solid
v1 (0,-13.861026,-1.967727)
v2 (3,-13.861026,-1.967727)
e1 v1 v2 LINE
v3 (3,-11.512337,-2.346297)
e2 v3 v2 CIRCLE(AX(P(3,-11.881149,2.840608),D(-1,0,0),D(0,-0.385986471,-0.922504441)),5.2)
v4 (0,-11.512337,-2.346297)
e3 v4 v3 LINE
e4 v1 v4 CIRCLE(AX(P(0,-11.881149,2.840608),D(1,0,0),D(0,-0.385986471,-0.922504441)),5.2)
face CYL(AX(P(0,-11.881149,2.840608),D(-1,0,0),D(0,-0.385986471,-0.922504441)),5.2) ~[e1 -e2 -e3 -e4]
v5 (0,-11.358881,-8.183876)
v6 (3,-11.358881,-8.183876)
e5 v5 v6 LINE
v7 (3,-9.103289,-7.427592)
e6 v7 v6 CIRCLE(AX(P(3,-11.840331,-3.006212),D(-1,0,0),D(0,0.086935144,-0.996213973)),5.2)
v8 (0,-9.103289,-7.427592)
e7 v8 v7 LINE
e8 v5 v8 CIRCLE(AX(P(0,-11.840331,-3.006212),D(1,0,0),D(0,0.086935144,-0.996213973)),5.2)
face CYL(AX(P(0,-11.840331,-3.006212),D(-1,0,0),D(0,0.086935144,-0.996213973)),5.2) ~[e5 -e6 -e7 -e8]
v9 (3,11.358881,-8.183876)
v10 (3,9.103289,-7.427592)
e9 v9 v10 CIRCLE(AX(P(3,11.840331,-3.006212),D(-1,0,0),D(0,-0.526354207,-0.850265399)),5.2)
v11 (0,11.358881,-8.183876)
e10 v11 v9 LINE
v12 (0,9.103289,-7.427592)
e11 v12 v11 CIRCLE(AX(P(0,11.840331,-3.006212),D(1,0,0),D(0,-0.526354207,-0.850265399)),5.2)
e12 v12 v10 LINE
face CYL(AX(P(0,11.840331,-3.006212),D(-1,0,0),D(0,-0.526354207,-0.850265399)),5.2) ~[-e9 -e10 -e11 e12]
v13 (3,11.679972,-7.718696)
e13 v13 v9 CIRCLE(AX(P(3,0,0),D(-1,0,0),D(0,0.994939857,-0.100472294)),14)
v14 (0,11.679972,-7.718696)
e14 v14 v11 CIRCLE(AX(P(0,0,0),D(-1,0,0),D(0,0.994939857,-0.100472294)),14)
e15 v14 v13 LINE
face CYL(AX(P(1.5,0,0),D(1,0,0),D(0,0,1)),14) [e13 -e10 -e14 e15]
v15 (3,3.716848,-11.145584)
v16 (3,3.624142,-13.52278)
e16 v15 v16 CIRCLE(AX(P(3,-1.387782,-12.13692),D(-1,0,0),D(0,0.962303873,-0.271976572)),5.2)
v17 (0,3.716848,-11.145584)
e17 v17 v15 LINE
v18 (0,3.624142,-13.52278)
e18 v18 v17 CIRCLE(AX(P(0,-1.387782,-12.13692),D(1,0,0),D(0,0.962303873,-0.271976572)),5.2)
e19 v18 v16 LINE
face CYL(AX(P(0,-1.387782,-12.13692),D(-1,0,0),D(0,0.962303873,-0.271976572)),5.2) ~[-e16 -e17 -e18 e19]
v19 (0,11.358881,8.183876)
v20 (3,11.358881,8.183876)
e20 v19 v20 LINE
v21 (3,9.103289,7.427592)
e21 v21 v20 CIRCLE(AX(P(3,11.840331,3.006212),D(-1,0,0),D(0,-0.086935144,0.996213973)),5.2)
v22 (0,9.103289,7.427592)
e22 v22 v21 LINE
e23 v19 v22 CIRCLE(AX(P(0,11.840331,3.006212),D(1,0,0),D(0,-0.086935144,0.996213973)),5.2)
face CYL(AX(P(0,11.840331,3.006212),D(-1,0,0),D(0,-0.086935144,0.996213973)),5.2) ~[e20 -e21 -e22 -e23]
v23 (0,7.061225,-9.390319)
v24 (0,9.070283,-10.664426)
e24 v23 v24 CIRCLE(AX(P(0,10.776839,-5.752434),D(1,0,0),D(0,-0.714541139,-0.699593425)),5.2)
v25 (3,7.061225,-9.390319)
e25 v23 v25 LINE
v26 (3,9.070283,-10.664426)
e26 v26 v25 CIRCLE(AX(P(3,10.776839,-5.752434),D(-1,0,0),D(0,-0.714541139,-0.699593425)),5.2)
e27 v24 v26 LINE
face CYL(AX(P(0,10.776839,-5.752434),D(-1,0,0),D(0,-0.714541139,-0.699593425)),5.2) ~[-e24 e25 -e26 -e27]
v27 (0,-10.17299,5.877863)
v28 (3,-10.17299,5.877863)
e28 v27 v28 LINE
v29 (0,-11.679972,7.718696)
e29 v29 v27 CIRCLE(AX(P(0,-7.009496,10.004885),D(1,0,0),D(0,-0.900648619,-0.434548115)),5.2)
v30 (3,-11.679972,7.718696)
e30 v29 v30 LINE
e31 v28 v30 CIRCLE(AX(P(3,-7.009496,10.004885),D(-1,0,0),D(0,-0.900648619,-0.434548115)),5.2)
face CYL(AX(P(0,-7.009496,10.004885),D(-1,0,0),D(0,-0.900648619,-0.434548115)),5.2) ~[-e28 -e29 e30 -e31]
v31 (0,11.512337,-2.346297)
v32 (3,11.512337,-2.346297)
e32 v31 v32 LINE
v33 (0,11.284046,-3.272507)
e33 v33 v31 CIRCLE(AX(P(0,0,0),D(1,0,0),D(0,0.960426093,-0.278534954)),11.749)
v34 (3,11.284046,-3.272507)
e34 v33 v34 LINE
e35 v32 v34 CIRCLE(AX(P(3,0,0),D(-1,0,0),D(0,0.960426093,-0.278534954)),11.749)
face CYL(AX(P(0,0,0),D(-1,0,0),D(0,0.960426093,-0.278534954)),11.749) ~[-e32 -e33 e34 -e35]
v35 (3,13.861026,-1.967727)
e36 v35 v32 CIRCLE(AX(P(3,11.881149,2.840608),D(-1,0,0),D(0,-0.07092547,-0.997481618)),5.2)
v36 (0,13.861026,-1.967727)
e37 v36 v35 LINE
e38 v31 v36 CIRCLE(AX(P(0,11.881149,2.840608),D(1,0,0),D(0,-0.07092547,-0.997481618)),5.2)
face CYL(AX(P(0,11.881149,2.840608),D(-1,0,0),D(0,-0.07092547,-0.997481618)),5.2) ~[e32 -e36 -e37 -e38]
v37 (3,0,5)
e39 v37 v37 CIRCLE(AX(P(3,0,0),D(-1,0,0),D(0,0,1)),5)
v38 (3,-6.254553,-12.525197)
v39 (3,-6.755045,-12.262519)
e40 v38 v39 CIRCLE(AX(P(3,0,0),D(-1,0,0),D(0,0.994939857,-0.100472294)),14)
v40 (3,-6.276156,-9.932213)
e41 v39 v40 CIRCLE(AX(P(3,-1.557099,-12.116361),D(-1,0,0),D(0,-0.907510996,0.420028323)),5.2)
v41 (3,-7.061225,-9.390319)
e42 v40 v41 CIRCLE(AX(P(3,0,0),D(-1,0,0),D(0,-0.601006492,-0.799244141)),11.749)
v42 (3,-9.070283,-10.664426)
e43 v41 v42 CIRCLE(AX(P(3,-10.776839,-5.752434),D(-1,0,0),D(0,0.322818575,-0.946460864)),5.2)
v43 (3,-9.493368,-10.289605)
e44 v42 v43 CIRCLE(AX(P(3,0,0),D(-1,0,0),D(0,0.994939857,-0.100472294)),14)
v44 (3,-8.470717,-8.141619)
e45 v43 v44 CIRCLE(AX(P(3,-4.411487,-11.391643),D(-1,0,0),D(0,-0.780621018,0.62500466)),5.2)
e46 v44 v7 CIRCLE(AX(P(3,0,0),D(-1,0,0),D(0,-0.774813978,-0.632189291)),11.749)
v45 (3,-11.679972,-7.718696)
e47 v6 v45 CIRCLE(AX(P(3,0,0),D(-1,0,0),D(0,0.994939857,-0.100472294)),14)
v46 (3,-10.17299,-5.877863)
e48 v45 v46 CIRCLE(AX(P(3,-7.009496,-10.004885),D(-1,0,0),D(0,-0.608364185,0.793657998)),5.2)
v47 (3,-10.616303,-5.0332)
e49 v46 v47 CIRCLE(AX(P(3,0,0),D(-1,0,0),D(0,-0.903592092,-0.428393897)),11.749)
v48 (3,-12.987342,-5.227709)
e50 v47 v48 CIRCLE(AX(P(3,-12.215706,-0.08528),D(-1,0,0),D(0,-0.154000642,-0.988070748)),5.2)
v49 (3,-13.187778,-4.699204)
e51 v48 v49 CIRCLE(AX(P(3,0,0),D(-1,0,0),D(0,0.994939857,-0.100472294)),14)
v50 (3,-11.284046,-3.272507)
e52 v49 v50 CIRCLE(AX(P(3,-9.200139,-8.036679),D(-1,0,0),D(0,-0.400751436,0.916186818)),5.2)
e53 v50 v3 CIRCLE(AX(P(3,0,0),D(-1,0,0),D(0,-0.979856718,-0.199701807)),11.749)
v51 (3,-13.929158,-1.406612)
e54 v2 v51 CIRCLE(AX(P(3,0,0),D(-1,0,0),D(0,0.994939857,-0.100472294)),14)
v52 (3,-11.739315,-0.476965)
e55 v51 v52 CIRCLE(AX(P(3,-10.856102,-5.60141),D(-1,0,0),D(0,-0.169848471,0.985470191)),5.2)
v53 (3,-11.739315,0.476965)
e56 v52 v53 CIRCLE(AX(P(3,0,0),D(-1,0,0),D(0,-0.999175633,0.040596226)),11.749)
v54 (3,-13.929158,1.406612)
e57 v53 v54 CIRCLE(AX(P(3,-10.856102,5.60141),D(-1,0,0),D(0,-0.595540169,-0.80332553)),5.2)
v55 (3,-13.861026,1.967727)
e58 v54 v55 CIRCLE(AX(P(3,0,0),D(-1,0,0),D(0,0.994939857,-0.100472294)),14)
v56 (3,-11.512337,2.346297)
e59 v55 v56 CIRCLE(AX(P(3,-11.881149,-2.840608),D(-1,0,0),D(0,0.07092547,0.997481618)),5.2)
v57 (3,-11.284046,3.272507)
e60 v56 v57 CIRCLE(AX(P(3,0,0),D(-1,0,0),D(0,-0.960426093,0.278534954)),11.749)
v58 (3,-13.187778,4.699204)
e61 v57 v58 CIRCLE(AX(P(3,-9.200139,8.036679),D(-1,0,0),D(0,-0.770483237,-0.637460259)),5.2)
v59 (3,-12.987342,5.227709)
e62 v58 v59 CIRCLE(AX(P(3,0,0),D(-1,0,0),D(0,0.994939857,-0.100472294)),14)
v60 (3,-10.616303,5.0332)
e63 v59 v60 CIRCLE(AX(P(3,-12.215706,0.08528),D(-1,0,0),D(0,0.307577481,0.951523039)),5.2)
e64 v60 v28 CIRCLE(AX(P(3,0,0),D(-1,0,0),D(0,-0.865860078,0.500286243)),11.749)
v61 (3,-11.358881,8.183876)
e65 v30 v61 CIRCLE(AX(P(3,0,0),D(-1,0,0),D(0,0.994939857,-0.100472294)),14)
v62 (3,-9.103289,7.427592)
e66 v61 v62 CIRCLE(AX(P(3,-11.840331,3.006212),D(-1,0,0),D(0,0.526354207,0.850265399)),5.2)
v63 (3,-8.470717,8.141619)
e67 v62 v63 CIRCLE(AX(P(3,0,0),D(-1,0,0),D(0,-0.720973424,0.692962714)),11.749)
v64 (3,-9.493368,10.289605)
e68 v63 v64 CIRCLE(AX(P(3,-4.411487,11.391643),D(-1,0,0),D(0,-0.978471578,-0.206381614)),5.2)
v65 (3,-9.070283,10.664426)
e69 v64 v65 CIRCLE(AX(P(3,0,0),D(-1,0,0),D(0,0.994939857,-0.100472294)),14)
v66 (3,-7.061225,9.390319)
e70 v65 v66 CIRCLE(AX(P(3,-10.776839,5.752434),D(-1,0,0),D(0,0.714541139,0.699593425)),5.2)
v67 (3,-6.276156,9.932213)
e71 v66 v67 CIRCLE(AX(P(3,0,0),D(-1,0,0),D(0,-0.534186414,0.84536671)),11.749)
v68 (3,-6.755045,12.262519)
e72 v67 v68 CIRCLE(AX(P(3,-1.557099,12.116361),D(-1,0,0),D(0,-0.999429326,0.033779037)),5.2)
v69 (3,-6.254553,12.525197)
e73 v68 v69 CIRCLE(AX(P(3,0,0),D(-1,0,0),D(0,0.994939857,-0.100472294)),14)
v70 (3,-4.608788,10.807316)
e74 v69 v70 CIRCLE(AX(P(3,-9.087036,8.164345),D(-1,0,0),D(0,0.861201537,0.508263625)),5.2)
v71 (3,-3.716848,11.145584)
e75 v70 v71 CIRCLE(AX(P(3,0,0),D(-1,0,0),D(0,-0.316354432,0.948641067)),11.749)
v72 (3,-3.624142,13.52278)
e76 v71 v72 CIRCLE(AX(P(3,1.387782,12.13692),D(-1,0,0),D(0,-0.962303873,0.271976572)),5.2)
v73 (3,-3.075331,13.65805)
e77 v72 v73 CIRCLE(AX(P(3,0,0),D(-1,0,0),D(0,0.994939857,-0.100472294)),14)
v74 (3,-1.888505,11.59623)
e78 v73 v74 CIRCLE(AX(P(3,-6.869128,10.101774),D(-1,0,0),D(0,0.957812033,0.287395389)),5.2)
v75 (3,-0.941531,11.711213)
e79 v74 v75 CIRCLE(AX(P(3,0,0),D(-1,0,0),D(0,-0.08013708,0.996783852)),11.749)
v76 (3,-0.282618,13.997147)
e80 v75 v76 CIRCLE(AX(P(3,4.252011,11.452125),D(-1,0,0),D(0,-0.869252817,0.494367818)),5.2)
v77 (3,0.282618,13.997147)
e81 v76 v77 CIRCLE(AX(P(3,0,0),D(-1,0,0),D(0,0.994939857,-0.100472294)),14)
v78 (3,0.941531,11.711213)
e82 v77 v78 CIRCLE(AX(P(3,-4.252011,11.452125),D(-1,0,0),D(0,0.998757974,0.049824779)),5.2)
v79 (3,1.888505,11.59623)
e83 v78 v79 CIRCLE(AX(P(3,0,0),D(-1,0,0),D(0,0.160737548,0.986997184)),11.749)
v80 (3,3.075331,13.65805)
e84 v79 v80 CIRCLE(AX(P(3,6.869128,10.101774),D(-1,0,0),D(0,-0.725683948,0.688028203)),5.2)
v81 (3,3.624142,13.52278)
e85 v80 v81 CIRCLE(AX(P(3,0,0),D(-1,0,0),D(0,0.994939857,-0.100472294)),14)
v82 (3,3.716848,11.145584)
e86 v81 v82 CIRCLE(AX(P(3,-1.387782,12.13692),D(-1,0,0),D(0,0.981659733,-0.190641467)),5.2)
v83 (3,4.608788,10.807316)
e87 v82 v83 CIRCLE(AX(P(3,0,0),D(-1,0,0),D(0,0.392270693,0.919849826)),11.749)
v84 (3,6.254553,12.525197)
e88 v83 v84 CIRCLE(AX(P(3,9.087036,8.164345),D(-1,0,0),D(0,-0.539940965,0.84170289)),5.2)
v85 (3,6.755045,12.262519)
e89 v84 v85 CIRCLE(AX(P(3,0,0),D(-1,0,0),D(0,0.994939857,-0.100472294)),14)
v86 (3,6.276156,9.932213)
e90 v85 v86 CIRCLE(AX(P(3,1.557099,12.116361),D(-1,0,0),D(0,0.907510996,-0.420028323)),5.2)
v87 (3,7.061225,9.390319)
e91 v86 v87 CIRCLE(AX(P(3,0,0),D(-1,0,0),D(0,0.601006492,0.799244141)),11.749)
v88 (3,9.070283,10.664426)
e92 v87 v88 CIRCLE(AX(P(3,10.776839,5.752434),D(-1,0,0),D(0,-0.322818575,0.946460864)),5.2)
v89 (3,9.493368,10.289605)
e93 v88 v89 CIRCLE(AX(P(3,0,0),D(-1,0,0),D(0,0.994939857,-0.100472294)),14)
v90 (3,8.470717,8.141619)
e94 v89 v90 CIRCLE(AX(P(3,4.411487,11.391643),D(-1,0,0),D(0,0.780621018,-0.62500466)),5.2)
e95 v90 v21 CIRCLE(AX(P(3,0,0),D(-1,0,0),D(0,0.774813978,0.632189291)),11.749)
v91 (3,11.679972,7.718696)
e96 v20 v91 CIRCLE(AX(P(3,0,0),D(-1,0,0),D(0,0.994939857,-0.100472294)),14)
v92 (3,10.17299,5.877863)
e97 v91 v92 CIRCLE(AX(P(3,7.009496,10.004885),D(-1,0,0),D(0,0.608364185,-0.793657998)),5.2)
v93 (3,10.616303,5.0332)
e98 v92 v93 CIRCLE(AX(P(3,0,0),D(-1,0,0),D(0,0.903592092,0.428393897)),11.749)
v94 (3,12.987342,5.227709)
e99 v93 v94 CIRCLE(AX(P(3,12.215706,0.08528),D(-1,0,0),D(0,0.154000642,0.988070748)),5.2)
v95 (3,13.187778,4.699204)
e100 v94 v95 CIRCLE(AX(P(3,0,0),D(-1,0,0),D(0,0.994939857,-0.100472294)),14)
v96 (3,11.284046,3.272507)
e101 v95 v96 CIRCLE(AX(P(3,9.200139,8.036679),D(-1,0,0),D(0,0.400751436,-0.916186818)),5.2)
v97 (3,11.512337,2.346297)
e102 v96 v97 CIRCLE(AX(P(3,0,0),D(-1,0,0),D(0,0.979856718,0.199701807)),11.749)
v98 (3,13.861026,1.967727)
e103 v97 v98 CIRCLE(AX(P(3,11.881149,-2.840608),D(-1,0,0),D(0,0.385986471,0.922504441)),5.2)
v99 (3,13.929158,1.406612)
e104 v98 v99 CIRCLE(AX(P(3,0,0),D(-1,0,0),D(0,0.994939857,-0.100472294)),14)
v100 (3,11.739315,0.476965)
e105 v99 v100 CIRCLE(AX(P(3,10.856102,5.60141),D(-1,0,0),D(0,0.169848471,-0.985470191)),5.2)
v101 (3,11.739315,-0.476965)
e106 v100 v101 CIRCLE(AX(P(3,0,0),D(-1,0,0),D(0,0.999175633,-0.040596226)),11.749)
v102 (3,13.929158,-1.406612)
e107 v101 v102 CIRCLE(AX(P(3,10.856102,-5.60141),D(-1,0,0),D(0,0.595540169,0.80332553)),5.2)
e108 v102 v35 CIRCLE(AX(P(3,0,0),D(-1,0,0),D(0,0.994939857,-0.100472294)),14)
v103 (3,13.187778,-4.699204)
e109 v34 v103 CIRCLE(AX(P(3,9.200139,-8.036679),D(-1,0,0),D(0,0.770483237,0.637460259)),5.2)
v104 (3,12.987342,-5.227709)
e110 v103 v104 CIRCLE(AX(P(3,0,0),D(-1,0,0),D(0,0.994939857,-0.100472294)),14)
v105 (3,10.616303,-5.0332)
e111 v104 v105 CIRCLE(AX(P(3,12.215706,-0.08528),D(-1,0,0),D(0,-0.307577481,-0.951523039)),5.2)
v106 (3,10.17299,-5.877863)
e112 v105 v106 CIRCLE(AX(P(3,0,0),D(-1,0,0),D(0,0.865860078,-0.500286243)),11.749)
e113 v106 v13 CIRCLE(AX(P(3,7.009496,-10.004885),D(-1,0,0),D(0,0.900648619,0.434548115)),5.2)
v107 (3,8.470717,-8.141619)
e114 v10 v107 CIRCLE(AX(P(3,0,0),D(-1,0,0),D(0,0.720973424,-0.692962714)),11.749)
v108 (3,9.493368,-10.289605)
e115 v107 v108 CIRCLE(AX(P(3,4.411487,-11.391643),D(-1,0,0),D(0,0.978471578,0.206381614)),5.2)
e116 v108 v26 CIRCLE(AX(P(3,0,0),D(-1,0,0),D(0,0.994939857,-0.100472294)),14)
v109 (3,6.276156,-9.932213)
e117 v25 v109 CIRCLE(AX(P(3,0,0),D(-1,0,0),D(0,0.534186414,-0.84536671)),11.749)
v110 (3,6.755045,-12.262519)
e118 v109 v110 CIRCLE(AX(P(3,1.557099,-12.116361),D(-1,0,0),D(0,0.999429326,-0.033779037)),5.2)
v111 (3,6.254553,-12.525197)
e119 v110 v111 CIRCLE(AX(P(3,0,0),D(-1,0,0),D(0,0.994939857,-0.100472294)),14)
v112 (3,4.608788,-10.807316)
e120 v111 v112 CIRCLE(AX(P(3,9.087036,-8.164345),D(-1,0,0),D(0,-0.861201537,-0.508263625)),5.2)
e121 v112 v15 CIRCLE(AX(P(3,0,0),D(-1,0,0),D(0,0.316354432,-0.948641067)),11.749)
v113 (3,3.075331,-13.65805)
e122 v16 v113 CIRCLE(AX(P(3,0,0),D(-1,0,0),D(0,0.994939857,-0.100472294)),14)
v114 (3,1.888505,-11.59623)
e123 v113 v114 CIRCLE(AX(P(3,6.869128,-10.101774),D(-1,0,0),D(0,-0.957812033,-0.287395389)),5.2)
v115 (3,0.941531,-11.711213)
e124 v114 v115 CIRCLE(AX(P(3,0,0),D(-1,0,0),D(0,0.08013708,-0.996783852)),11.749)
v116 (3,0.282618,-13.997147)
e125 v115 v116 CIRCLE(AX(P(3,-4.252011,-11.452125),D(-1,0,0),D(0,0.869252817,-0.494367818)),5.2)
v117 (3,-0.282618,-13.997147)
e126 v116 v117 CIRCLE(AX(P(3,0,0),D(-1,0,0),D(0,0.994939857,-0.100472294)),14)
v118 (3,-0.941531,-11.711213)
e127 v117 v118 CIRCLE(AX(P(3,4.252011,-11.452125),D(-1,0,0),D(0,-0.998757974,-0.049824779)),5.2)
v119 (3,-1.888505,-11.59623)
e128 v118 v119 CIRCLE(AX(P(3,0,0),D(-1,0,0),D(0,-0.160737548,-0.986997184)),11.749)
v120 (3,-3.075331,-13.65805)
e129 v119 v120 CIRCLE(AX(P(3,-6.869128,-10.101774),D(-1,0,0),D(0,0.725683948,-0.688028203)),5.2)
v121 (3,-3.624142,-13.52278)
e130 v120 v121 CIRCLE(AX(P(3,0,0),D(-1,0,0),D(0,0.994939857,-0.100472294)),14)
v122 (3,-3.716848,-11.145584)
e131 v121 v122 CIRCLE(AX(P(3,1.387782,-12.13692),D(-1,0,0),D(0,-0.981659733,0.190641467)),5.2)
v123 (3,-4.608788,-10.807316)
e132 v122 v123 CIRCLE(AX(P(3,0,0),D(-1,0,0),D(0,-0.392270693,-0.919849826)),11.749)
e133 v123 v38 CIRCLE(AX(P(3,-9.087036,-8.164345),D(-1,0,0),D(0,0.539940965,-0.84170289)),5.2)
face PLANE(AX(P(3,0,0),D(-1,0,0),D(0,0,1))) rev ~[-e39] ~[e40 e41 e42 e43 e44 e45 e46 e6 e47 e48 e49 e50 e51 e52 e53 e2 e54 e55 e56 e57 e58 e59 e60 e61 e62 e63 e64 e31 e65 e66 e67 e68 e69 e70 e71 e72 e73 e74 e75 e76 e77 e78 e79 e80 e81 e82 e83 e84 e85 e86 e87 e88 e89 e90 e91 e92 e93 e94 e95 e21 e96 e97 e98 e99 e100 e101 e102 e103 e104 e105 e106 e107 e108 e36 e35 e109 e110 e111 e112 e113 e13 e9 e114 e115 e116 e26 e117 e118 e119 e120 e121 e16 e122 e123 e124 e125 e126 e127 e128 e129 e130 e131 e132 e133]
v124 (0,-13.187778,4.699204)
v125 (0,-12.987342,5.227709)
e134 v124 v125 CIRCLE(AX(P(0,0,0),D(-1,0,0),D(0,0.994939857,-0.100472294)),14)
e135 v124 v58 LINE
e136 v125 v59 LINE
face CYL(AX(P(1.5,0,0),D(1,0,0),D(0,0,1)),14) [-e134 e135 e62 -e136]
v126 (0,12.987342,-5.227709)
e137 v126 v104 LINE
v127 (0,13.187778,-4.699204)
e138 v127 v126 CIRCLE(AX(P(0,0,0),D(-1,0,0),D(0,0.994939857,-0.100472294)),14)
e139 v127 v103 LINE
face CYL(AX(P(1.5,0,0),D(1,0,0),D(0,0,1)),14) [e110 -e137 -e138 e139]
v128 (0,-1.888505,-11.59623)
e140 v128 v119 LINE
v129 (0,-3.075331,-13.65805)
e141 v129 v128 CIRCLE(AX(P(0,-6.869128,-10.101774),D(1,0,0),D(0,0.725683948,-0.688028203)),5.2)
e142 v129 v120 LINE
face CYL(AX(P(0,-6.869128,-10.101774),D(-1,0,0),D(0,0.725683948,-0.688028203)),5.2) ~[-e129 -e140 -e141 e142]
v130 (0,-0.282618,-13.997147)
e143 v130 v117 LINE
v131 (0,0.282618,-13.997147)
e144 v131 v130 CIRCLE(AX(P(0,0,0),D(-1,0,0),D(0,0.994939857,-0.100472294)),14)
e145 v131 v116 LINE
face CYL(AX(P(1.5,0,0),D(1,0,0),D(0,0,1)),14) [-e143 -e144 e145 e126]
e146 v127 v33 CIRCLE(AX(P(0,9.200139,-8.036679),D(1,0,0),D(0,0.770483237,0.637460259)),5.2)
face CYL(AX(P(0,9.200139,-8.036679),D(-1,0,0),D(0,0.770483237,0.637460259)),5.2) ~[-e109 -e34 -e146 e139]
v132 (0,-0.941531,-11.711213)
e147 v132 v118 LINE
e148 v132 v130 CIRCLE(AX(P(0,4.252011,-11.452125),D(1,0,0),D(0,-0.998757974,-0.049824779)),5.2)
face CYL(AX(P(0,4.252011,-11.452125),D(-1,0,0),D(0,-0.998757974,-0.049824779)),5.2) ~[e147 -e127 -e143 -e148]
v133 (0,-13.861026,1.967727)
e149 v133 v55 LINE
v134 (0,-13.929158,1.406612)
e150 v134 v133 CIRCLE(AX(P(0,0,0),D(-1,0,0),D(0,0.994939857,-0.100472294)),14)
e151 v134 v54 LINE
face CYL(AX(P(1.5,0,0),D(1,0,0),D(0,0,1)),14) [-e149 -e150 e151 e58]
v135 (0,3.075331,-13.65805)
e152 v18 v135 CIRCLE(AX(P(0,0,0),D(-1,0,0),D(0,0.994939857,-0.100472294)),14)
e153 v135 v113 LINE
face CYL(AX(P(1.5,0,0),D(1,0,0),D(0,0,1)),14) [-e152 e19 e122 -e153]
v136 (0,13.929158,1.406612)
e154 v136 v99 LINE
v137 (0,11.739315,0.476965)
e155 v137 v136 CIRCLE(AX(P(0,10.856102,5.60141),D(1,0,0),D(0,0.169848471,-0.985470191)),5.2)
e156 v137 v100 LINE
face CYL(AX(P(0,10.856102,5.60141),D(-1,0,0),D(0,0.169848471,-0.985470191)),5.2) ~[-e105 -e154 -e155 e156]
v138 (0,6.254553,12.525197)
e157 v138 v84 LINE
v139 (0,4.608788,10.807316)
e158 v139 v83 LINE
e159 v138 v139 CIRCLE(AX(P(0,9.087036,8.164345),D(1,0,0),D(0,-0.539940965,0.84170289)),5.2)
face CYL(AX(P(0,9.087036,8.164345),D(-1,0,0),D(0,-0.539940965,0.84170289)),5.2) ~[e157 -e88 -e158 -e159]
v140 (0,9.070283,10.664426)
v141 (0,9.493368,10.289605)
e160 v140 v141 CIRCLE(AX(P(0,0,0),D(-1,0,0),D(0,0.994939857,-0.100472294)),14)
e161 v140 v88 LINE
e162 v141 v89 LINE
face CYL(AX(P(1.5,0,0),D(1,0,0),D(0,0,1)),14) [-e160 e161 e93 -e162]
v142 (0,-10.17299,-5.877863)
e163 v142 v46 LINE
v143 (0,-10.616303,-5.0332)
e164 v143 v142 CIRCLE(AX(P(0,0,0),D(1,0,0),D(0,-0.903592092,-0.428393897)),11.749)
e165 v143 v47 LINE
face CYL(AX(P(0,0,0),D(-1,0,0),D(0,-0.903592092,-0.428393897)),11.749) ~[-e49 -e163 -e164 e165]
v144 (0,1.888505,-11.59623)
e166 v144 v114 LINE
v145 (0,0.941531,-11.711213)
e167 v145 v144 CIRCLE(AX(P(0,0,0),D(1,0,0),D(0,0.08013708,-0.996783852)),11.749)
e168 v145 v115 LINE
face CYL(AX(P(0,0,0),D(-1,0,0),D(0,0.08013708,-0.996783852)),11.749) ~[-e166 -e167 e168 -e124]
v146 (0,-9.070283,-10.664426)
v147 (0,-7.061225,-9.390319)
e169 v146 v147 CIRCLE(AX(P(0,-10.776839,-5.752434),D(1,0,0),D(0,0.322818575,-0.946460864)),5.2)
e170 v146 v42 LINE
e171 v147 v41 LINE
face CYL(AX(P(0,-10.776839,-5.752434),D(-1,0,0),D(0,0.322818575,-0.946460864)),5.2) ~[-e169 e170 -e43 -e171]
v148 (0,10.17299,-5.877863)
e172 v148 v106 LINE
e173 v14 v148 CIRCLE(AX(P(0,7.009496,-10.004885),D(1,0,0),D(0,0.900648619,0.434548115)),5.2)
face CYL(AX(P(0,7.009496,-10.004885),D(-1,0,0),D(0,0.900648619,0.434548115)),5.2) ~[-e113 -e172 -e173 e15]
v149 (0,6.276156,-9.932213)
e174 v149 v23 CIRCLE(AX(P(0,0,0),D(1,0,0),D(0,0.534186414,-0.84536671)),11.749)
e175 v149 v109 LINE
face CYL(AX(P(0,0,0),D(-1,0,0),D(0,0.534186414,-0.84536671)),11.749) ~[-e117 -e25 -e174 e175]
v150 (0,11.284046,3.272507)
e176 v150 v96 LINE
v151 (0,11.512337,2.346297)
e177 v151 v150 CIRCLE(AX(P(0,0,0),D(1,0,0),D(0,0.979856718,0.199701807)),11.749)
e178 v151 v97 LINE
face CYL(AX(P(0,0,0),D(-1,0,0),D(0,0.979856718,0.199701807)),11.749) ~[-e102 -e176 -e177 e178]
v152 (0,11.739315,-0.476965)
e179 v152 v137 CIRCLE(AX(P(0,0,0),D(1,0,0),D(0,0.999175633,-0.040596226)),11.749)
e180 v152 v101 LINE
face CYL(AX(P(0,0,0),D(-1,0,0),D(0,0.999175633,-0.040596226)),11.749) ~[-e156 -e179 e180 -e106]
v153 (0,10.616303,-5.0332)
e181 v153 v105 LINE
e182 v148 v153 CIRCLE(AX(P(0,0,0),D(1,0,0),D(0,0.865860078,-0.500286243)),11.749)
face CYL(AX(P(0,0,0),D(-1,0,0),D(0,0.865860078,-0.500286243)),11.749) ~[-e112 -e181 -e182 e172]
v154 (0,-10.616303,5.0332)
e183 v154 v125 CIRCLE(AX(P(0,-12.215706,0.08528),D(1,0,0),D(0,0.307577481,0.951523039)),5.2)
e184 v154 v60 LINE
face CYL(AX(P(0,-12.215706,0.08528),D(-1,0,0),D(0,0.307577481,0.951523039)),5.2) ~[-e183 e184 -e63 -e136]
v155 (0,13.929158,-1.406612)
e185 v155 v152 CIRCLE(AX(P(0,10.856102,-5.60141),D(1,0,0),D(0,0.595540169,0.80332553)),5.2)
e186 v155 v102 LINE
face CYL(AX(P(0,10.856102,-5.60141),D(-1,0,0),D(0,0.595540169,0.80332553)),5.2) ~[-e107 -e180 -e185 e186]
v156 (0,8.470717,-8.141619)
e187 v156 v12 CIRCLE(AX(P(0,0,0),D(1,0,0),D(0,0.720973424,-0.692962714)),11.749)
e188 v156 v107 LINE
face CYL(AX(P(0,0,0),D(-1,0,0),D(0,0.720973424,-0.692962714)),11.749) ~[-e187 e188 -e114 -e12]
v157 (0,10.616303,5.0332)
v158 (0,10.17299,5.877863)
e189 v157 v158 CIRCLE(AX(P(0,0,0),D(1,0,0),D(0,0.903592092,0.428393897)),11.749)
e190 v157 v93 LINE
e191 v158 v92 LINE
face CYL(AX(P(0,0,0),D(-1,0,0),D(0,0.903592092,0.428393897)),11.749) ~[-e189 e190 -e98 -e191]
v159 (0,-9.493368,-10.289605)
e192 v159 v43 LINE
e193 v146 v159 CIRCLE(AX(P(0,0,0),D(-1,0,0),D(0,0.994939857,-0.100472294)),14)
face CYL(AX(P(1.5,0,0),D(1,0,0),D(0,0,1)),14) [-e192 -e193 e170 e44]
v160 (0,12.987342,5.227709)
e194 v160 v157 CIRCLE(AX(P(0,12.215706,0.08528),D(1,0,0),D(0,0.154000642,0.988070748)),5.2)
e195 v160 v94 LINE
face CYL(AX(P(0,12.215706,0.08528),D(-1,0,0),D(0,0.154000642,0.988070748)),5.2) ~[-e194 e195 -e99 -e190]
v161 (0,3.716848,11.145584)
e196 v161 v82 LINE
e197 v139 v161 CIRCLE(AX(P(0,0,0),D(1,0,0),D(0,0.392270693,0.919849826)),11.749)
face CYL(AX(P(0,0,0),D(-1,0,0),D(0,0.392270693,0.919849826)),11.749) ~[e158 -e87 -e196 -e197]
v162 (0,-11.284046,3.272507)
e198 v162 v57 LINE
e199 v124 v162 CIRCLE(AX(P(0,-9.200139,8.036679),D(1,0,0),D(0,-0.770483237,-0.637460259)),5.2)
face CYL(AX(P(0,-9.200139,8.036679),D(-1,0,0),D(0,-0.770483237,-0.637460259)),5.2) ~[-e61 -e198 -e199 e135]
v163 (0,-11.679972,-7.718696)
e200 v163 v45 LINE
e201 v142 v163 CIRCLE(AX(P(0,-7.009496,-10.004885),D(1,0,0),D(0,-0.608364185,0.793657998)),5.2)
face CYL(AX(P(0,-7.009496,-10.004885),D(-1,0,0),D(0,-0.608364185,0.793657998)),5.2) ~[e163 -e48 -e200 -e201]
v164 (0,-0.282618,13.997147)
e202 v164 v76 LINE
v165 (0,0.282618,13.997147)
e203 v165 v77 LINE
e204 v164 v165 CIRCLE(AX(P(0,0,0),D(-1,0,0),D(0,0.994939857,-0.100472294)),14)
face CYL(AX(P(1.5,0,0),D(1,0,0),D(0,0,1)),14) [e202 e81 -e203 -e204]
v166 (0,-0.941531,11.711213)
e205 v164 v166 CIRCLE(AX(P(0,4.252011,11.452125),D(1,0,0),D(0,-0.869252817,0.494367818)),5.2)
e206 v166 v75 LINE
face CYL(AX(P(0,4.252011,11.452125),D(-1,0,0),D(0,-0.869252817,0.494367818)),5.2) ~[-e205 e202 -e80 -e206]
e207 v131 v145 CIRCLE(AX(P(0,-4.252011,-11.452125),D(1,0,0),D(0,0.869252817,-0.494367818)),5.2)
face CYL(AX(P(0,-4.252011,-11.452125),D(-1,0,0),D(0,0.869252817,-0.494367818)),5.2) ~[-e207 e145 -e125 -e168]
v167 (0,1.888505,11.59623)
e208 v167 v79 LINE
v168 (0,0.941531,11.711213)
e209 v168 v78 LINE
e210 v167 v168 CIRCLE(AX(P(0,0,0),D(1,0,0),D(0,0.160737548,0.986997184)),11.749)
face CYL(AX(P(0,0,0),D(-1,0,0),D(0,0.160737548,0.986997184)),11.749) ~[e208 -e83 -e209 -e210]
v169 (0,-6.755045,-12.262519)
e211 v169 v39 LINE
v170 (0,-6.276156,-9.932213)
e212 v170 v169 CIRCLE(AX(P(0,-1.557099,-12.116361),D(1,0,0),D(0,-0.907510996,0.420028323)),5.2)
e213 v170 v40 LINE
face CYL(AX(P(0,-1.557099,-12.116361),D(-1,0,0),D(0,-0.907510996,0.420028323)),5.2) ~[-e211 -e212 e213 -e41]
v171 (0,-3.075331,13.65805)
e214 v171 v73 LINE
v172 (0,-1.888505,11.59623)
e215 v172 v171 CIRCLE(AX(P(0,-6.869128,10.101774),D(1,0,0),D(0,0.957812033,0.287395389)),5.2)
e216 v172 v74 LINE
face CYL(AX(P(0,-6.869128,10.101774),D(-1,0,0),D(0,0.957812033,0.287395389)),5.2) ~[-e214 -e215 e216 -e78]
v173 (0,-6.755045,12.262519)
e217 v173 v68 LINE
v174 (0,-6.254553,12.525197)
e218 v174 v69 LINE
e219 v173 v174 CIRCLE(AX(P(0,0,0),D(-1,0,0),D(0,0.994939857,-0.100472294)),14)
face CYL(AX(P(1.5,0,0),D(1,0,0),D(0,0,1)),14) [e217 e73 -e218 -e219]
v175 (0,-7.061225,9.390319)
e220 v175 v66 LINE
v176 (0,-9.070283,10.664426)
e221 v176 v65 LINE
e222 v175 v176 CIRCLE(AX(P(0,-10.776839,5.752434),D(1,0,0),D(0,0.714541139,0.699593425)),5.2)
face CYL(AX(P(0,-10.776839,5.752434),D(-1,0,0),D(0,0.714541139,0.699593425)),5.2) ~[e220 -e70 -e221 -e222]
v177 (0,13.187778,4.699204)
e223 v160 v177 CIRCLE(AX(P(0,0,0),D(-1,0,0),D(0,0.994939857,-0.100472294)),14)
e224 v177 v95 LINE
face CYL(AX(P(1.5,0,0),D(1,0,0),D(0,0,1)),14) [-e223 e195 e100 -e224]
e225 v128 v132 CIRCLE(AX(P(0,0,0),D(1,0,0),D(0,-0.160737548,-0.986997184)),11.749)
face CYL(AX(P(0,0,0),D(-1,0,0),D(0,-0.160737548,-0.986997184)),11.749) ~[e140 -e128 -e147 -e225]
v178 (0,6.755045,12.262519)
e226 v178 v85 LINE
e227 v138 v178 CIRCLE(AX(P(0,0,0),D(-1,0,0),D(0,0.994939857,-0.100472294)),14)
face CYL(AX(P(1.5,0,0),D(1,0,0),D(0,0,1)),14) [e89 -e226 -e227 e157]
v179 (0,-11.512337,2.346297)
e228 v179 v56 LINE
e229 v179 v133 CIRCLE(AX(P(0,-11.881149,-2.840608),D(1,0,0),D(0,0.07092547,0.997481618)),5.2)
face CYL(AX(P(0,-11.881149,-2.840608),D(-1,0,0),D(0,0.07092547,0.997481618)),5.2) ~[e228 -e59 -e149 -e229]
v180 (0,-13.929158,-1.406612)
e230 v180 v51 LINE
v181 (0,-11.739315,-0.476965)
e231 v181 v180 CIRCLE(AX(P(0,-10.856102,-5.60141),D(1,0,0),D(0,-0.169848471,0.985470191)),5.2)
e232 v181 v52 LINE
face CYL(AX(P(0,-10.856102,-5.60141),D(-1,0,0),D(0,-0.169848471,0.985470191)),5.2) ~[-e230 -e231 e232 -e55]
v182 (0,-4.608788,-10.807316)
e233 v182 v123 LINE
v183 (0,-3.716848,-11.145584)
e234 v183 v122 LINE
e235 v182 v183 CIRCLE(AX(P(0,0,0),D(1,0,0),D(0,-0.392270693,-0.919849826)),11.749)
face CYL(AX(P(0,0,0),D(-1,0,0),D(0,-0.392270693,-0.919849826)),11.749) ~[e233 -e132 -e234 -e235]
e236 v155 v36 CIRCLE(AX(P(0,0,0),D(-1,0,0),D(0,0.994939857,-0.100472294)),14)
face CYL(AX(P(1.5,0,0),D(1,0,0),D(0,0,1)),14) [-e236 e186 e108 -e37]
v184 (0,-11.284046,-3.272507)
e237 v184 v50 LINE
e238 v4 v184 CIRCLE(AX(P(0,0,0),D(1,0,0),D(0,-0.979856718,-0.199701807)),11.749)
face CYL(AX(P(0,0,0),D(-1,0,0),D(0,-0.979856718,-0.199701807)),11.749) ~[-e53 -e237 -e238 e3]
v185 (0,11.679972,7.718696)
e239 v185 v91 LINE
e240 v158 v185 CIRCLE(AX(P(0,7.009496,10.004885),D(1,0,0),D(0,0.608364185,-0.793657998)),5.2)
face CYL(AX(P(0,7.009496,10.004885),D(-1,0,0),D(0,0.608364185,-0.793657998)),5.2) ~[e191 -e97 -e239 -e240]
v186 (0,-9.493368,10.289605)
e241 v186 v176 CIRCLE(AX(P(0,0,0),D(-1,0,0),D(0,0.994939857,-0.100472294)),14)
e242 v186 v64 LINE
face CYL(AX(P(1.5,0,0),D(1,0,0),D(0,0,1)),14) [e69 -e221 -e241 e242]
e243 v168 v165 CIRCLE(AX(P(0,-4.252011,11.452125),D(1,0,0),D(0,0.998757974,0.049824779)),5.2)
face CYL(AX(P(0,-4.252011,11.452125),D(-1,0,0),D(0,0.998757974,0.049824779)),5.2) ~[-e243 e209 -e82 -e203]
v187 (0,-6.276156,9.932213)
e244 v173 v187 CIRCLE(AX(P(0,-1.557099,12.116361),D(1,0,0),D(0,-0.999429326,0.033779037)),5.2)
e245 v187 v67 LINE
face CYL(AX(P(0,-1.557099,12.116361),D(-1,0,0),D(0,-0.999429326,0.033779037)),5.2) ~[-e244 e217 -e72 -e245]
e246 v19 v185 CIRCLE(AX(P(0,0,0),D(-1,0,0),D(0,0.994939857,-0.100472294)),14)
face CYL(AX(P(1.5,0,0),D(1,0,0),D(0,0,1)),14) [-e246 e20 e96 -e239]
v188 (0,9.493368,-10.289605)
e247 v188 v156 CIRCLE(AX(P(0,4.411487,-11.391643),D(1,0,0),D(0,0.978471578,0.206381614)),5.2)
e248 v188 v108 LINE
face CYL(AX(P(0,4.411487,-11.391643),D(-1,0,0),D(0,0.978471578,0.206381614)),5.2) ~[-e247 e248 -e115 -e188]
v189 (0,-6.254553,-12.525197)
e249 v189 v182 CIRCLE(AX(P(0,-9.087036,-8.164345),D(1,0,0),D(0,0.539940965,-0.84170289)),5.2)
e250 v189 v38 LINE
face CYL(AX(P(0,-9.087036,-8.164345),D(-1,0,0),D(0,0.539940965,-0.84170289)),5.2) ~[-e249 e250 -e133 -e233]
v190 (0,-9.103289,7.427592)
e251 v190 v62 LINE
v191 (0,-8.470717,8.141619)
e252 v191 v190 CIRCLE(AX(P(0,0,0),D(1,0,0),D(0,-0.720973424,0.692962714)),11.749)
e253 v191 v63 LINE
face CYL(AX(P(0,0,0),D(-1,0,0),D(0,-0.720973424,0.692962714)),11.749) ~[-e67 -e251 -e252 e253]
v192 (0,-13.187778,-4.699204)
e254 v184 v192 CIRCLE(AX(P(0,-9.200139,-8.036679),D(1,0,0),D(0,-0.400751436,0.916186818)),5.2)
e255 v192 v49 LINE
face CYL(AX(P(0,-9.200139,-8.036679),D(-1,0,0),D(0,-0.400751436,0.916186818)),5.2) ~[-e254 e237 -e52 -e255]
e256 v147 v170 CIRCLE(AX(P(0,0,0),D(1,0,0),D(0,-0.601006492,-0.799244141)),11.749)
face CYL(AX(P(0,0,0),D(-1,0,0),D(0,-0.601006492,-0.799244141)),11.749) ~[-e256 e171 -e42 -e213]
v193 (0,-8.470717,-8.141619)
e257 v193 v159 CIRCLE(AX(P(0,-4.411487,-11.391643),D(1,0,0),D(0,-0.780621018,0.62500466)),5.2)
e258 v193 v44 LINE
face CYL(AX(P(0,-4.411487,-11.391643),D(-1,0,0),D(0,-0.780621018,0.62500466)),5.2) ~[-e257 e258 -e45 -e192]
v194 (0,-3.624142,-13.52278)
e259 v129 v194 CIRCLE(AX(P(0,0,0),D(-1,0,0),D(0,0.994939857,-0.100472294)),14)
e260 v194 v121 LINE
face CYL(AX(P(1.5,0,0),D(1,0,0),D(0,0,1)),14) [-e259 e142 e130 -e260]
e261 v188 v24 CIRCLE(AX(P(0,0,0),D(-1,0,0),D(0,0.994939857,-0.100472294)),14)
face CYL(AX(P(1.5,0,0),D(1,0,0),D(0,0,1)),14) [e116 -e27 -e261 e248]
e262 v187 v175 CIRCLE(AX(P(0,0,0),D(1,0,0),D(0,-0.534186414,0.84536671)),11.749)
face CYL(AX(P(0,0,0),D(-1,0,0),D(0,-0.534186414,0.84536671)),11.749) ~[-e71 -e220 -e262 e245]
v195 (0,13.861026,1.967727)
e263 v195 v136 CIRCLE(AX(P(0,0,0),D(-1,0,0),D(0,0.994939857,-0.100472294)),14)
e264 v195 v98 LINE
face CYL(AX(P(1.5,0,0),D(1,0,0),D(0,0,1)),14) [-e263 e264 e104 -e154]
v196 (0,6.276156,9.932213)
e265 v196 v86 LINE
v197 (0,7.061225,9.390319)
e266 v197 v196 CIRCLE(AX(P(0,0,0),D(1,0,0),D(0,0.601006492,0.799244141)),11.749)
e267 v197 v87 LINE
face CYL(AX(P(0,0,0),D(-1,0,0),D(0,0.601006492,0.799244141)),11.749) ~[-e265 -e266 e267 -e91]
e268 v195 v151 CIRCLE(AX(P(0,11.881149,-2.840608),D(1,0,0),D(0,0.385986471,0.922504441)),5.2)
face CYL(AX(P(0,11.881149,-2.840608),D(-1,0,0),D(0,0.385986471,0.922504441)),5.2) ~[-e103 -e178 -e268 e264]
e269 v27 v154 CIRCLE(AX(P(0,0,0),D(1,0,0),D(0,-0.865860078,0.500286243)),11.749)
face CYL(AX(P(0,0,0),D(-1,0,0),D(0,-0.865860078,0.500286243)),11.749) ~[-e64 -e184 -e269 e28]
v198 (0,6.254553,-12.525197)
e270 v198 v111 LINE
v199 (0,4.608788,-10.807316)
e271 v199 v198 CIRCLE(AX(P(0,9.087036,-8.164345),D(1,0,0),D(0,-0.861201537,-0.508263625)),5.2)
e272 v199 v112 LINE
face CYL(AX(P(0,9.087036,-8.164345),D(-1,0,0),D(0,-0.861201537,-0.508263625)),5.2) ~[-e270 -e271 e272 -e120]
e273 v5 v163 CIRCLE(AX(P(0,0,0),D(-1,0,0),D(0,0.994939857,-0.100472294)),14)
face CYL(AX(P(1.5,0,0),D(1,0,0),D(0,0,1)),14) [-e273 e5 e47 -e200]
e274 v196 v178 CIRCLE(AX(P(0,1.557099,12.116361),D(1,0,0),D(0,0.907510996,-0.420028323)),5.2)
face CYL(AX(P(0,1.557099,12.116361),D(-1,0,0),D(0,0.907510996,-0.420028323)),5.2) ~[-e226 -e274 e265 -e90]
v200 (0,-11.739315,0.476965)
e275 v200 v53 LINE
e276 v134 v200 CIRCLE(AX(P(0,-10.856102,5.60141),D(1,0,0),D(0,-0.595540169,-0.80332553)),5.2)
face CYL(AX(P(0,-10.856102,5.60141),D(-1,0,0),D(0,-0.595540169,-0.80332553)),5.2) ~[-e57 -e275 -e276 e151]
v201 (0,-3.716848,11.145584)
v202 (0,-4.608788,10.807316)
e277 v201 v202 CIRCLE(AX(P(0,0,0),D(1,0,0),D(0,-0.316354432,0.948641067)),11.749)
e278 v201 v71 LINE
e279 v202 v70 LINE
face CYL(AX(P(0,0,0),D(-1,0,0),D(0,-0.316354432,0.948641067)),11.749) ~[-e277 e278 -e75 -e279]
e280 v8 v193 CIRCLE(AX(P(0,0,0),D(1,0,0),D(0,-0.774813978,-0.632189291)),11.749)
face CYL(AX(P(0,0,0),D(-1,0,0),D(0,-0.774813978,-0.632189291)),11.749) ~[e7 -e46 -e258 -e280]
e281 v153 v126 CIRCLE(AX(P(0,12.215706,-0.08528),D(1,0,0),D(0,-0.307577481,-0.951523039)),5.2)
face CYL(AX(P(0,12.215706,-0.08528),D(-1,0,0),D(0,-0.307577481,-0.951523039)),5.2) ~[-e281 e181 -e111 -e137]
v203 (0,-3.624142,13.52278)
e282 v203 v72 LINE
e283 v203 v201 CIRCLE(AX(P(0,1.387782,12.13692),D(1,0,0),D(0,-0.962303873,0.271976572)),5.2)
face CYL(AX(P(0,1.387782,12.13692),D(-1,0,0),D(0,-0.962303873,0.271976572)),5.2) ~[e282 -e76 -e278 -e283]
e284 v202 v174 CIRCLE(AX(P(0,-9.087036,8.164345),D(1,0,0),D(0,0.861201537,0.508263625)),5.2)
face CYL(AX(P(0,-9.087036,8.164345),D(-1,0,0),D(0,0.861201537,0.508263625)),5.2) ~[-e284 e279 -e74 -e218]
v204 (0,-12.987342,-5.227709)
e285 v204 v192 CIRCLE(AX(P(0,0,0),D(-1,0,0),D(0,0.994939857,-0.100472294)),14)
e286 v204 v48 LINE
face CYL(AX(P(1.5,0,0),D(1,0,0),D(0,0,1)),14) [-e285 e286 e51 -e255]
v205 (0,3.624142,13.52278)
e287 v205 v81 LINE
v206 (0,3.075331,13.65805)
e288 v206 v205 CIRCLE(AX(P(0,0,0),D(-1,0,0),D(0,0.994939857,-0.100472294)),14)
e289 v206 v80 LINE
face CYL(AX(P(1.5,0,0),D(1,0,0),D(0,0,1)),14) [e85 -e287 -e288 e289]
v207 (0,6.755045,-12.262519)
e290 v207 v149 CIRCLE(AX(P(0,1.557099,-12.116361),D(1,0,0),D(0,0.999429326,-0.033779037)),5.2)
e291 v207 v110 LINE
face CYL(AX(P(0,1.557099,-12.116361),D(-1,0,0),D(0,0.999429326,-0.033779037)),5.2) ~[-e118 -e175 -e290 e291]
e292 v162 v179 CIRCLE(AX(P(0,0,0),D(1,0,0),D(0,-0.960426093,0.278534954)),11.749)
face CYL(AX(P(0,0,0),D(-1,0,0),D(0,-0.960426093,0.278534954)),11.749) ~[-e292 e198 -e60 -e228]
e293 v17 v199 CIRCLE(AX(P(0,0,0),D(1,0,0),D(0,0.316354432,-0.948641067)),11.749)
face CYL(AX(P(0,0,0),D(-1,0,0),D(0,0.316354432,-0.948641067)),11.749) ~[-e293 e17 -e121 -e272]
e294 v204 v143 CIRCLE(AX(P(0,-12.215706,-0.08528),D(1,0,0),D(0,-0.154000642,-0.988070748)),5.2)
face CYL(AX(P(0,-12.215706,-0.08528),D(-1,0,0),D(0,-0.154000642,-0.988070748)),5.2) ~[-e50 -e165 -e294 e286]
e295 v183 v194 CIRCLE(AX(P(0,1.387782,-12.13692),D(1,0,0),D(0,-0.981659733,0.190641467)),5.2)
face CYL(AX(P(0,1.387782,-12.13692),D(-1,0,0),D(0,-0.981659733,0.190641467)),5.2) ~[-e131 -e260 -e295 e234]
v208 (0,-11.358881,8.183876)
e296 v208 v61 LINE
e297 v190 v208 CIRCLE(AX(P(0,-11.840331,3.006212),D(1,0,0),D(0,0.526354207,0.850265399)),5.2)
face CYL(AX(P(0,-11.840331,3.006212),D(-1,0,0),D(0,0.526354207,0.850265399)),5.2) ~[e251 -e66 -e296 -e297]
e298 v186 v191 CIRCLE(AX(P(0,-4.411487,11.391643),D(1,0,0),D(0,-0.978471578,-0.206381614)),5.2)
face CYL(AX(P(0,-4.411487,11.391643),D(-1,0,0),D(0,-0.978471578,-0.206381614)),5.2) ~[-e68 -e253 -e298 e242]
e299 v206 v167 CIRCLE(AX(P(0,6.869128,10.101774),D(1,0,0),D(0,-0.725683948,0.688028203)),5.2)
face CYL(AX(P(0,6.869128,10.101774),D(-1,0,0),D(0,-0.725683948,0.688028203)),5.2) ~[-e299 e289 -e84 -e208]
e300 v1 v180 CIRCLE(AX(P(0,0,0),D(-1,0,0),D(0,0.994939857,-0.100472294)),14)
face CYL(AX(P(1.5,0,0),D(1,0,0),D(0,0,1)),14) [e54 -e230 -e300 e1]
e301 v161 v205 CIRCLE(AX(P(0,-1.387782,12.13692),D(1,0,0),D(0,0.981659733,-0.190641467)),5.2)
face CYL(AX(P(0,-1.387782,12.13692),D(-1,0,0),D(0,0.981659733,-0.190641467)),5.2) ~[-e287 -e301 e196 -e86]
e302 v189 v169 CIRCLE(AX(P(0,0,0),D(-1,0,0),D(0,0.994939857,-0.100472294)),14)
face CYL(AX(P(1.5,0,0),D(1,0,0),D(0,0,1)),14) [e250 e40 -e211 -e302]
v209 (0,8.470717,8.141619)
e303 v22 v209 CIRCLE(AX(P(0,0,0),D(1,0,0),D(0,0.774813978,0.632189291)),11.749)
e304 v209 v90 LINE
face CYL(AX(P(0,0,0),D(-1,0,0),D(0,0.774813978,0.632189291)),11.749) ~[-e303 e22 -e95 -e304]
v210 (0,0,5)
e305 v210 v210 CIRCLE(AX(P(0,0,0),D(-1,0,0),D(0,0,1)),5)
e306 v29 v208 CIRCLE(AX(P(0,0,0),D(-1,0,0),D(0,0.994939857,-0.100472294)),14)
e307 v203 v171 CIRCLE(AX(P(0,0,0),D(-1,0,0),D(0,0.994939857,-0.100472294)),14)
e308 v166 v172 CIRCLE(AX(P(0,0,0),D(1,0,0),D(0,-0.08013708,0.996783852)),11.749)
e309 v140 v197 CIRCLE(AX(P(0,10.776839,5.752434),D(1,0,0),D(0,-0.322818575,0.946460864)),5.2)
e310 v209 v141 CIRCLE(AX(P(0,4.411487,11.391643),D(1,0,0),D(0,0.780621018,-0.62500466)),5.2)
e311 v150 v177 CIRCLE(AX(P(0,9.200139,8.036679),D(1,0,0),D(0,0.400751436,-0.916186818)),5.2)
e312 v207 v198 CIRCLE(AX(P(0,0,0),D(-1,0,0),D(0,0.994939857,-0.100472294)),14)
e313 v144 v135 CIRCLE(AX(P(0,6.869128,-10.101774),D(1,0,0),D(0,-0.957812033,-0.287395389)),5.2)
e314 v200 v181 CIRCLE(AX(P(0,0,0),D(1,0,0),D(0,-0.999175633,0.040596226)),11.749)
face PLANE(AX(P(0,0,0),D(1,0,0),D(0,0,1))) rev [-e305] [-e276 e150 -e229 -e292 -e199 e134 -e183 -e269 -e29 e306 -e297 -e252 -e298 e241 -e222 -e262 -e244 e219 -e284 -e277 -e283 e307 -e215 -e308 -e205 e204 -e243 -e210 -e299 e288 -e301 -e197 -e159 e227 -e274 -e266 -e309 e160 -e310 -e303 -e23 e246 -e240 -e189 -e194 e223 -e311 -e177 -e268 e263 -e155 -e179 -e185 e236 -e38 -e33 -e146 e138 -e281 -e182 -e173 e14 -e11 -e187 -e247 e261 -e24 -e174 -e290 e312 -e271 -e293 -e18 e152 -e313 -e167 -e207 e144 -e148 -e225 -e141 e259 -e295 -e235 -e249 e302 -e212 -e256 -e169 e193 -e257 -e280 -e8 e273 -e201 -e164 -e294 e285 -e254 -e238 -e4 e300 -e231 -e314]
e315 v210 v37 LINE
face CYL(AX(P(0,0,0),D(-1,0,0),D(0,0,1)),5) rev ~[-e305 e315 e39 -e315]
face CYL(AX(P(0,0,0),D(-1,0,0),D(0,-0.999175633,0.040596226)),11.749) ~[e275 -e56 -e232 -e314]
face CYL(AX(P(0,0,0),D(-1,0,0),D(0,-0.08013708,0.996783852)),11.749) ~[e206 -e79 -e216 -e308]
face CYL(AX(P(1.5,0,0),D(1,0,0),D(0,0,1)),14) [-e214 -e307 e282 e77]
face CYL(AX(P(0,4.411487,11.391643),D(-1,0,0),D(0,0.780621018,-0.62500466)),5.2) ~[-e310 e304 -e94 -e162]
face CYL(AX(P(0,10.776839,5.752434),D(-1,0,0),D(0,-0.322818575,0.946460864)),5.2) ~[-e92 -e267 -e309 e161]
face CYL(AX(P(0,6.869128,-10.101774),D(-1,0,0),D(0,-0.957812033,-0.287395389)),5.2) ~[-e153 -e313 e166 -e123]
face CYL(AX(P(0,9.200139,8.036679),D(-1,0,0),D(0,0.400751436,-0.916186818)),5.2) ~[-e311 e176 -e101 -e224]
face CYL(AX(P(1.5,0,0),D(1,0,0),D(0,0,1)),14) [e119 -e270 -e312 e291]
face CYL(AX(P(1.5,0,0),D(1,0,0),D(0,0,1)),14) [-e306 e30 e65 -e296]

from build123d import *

# Parameters (mm, degrees)
BASPROSKE_W         = 3
BASPROSKE_H         = 14
TOOTHCUT_DEPTH      = 21.024984395
TEETHCUTS_COUNT     = 26
TEETHCUTS_ANGLE     = 346.153846154
BORSKE_R            = 4
BORE_DEPTH          = 50.0000508
EXTRUDE_START       = -3
SKETCH_1_R          = 4
EXTRUDE_1_DEPTH     = 3
SKETCH_2_R          = 5
CUT_EXTRUDE_1_DEPTH = 3


with BuildPart() as part:
    # BasProSke → Base-Revolve (revolve)
    with BuildSketch(Plane(origin=(0, 0, 0), x_dir=(1, 0, 0), z_dir=(0, 1, 0)), mode=Mode.PRIVATE) as base_revolve_sk:
        with Locations((1.5, 7)):
            Rectangle(BASPROSKE_W, BASPROSKE_H)
    revolve(base_revolve_sk.sketch.rotate(Axis((-10, 0, 0), (1, 0, 0)), 180), axis=Axis((-10, 0, 0), (1, 0, 0)))

    # TooCutSke → ToothCut (cut, through all)
    with BuildSketch(Plane(origin=(0, 0, 0), x_dir=(0, 0, -1), z_dir=(1, 0, 0))):
        with BuildLine():
            ThreePointArc((0.476965065, 11.739314517), (0, 11.749), (-0.476965065, 11.739314517))
            ThreePointArc((-0.476965065, 11.739314517), (-0.82065865, 12.901686978), (-1.424117301, 13.952911348))
            ThreePointArc((-1.424117301, 13.952911348), (0, 14.0254), (1.424117301, 13.952911348))
            ThreePointArc((1.424117301, 13.952911348), (0.82065865, 12.901686978), (0.476965065, 11.739314517))
        make_face()
    toothcut = extrude(amount=TOOTHCUT_DEPTH, mode=Mode.SUBTRACT)

    # TeethCuts: ToothCut ×26 about axis
    teethcuts_axis = Axis((-10, 0, 0), (1, 0, 0))
    for i in range(1, TEETHCUTS_COUNT):
        add(toothcut.rotate(teethcuts_axis, i * TEETHCUTS_ANGLE / (TEETHCUTS_COUNT - 1)), mode=Mode.SUBTRACT)

    # BorSke → Bore (cut, symmetric)
    with BuildSketch(Plane(origin=(0, 0, 0), x_dir=(0, 0, -1), z_dir=(1, 0, 0))):
        with Locations(Location((0, 0, 0), (0, 0, 180))):
            Circle(BORSKE_R)
    extrude(amount=BORE_DEPTH, both=True, mode=Mode.SUBTRACT)

    # ｽｹｯﾁ1 → ﾎﾞｽ - 押し出し1 (add)
    with BuildSketch(Plane.ZY.offset(EXTRUDE_START)):
        Circle(SKETCH_1_R)
    extrude(amount=EXTRUDE_1_DEPTH)

    # ｽｹｯﾁ2 → ｶｯﾄ - 押し出し1 (cut)
    with BuildSketch(Plane.ZY):
        Circle(SKETCH_2_R)
    extrude(amount=-CUT_EXTRUDE_1_DEPTH, mode=Mode.SUBTRACT)


solid = part.part
